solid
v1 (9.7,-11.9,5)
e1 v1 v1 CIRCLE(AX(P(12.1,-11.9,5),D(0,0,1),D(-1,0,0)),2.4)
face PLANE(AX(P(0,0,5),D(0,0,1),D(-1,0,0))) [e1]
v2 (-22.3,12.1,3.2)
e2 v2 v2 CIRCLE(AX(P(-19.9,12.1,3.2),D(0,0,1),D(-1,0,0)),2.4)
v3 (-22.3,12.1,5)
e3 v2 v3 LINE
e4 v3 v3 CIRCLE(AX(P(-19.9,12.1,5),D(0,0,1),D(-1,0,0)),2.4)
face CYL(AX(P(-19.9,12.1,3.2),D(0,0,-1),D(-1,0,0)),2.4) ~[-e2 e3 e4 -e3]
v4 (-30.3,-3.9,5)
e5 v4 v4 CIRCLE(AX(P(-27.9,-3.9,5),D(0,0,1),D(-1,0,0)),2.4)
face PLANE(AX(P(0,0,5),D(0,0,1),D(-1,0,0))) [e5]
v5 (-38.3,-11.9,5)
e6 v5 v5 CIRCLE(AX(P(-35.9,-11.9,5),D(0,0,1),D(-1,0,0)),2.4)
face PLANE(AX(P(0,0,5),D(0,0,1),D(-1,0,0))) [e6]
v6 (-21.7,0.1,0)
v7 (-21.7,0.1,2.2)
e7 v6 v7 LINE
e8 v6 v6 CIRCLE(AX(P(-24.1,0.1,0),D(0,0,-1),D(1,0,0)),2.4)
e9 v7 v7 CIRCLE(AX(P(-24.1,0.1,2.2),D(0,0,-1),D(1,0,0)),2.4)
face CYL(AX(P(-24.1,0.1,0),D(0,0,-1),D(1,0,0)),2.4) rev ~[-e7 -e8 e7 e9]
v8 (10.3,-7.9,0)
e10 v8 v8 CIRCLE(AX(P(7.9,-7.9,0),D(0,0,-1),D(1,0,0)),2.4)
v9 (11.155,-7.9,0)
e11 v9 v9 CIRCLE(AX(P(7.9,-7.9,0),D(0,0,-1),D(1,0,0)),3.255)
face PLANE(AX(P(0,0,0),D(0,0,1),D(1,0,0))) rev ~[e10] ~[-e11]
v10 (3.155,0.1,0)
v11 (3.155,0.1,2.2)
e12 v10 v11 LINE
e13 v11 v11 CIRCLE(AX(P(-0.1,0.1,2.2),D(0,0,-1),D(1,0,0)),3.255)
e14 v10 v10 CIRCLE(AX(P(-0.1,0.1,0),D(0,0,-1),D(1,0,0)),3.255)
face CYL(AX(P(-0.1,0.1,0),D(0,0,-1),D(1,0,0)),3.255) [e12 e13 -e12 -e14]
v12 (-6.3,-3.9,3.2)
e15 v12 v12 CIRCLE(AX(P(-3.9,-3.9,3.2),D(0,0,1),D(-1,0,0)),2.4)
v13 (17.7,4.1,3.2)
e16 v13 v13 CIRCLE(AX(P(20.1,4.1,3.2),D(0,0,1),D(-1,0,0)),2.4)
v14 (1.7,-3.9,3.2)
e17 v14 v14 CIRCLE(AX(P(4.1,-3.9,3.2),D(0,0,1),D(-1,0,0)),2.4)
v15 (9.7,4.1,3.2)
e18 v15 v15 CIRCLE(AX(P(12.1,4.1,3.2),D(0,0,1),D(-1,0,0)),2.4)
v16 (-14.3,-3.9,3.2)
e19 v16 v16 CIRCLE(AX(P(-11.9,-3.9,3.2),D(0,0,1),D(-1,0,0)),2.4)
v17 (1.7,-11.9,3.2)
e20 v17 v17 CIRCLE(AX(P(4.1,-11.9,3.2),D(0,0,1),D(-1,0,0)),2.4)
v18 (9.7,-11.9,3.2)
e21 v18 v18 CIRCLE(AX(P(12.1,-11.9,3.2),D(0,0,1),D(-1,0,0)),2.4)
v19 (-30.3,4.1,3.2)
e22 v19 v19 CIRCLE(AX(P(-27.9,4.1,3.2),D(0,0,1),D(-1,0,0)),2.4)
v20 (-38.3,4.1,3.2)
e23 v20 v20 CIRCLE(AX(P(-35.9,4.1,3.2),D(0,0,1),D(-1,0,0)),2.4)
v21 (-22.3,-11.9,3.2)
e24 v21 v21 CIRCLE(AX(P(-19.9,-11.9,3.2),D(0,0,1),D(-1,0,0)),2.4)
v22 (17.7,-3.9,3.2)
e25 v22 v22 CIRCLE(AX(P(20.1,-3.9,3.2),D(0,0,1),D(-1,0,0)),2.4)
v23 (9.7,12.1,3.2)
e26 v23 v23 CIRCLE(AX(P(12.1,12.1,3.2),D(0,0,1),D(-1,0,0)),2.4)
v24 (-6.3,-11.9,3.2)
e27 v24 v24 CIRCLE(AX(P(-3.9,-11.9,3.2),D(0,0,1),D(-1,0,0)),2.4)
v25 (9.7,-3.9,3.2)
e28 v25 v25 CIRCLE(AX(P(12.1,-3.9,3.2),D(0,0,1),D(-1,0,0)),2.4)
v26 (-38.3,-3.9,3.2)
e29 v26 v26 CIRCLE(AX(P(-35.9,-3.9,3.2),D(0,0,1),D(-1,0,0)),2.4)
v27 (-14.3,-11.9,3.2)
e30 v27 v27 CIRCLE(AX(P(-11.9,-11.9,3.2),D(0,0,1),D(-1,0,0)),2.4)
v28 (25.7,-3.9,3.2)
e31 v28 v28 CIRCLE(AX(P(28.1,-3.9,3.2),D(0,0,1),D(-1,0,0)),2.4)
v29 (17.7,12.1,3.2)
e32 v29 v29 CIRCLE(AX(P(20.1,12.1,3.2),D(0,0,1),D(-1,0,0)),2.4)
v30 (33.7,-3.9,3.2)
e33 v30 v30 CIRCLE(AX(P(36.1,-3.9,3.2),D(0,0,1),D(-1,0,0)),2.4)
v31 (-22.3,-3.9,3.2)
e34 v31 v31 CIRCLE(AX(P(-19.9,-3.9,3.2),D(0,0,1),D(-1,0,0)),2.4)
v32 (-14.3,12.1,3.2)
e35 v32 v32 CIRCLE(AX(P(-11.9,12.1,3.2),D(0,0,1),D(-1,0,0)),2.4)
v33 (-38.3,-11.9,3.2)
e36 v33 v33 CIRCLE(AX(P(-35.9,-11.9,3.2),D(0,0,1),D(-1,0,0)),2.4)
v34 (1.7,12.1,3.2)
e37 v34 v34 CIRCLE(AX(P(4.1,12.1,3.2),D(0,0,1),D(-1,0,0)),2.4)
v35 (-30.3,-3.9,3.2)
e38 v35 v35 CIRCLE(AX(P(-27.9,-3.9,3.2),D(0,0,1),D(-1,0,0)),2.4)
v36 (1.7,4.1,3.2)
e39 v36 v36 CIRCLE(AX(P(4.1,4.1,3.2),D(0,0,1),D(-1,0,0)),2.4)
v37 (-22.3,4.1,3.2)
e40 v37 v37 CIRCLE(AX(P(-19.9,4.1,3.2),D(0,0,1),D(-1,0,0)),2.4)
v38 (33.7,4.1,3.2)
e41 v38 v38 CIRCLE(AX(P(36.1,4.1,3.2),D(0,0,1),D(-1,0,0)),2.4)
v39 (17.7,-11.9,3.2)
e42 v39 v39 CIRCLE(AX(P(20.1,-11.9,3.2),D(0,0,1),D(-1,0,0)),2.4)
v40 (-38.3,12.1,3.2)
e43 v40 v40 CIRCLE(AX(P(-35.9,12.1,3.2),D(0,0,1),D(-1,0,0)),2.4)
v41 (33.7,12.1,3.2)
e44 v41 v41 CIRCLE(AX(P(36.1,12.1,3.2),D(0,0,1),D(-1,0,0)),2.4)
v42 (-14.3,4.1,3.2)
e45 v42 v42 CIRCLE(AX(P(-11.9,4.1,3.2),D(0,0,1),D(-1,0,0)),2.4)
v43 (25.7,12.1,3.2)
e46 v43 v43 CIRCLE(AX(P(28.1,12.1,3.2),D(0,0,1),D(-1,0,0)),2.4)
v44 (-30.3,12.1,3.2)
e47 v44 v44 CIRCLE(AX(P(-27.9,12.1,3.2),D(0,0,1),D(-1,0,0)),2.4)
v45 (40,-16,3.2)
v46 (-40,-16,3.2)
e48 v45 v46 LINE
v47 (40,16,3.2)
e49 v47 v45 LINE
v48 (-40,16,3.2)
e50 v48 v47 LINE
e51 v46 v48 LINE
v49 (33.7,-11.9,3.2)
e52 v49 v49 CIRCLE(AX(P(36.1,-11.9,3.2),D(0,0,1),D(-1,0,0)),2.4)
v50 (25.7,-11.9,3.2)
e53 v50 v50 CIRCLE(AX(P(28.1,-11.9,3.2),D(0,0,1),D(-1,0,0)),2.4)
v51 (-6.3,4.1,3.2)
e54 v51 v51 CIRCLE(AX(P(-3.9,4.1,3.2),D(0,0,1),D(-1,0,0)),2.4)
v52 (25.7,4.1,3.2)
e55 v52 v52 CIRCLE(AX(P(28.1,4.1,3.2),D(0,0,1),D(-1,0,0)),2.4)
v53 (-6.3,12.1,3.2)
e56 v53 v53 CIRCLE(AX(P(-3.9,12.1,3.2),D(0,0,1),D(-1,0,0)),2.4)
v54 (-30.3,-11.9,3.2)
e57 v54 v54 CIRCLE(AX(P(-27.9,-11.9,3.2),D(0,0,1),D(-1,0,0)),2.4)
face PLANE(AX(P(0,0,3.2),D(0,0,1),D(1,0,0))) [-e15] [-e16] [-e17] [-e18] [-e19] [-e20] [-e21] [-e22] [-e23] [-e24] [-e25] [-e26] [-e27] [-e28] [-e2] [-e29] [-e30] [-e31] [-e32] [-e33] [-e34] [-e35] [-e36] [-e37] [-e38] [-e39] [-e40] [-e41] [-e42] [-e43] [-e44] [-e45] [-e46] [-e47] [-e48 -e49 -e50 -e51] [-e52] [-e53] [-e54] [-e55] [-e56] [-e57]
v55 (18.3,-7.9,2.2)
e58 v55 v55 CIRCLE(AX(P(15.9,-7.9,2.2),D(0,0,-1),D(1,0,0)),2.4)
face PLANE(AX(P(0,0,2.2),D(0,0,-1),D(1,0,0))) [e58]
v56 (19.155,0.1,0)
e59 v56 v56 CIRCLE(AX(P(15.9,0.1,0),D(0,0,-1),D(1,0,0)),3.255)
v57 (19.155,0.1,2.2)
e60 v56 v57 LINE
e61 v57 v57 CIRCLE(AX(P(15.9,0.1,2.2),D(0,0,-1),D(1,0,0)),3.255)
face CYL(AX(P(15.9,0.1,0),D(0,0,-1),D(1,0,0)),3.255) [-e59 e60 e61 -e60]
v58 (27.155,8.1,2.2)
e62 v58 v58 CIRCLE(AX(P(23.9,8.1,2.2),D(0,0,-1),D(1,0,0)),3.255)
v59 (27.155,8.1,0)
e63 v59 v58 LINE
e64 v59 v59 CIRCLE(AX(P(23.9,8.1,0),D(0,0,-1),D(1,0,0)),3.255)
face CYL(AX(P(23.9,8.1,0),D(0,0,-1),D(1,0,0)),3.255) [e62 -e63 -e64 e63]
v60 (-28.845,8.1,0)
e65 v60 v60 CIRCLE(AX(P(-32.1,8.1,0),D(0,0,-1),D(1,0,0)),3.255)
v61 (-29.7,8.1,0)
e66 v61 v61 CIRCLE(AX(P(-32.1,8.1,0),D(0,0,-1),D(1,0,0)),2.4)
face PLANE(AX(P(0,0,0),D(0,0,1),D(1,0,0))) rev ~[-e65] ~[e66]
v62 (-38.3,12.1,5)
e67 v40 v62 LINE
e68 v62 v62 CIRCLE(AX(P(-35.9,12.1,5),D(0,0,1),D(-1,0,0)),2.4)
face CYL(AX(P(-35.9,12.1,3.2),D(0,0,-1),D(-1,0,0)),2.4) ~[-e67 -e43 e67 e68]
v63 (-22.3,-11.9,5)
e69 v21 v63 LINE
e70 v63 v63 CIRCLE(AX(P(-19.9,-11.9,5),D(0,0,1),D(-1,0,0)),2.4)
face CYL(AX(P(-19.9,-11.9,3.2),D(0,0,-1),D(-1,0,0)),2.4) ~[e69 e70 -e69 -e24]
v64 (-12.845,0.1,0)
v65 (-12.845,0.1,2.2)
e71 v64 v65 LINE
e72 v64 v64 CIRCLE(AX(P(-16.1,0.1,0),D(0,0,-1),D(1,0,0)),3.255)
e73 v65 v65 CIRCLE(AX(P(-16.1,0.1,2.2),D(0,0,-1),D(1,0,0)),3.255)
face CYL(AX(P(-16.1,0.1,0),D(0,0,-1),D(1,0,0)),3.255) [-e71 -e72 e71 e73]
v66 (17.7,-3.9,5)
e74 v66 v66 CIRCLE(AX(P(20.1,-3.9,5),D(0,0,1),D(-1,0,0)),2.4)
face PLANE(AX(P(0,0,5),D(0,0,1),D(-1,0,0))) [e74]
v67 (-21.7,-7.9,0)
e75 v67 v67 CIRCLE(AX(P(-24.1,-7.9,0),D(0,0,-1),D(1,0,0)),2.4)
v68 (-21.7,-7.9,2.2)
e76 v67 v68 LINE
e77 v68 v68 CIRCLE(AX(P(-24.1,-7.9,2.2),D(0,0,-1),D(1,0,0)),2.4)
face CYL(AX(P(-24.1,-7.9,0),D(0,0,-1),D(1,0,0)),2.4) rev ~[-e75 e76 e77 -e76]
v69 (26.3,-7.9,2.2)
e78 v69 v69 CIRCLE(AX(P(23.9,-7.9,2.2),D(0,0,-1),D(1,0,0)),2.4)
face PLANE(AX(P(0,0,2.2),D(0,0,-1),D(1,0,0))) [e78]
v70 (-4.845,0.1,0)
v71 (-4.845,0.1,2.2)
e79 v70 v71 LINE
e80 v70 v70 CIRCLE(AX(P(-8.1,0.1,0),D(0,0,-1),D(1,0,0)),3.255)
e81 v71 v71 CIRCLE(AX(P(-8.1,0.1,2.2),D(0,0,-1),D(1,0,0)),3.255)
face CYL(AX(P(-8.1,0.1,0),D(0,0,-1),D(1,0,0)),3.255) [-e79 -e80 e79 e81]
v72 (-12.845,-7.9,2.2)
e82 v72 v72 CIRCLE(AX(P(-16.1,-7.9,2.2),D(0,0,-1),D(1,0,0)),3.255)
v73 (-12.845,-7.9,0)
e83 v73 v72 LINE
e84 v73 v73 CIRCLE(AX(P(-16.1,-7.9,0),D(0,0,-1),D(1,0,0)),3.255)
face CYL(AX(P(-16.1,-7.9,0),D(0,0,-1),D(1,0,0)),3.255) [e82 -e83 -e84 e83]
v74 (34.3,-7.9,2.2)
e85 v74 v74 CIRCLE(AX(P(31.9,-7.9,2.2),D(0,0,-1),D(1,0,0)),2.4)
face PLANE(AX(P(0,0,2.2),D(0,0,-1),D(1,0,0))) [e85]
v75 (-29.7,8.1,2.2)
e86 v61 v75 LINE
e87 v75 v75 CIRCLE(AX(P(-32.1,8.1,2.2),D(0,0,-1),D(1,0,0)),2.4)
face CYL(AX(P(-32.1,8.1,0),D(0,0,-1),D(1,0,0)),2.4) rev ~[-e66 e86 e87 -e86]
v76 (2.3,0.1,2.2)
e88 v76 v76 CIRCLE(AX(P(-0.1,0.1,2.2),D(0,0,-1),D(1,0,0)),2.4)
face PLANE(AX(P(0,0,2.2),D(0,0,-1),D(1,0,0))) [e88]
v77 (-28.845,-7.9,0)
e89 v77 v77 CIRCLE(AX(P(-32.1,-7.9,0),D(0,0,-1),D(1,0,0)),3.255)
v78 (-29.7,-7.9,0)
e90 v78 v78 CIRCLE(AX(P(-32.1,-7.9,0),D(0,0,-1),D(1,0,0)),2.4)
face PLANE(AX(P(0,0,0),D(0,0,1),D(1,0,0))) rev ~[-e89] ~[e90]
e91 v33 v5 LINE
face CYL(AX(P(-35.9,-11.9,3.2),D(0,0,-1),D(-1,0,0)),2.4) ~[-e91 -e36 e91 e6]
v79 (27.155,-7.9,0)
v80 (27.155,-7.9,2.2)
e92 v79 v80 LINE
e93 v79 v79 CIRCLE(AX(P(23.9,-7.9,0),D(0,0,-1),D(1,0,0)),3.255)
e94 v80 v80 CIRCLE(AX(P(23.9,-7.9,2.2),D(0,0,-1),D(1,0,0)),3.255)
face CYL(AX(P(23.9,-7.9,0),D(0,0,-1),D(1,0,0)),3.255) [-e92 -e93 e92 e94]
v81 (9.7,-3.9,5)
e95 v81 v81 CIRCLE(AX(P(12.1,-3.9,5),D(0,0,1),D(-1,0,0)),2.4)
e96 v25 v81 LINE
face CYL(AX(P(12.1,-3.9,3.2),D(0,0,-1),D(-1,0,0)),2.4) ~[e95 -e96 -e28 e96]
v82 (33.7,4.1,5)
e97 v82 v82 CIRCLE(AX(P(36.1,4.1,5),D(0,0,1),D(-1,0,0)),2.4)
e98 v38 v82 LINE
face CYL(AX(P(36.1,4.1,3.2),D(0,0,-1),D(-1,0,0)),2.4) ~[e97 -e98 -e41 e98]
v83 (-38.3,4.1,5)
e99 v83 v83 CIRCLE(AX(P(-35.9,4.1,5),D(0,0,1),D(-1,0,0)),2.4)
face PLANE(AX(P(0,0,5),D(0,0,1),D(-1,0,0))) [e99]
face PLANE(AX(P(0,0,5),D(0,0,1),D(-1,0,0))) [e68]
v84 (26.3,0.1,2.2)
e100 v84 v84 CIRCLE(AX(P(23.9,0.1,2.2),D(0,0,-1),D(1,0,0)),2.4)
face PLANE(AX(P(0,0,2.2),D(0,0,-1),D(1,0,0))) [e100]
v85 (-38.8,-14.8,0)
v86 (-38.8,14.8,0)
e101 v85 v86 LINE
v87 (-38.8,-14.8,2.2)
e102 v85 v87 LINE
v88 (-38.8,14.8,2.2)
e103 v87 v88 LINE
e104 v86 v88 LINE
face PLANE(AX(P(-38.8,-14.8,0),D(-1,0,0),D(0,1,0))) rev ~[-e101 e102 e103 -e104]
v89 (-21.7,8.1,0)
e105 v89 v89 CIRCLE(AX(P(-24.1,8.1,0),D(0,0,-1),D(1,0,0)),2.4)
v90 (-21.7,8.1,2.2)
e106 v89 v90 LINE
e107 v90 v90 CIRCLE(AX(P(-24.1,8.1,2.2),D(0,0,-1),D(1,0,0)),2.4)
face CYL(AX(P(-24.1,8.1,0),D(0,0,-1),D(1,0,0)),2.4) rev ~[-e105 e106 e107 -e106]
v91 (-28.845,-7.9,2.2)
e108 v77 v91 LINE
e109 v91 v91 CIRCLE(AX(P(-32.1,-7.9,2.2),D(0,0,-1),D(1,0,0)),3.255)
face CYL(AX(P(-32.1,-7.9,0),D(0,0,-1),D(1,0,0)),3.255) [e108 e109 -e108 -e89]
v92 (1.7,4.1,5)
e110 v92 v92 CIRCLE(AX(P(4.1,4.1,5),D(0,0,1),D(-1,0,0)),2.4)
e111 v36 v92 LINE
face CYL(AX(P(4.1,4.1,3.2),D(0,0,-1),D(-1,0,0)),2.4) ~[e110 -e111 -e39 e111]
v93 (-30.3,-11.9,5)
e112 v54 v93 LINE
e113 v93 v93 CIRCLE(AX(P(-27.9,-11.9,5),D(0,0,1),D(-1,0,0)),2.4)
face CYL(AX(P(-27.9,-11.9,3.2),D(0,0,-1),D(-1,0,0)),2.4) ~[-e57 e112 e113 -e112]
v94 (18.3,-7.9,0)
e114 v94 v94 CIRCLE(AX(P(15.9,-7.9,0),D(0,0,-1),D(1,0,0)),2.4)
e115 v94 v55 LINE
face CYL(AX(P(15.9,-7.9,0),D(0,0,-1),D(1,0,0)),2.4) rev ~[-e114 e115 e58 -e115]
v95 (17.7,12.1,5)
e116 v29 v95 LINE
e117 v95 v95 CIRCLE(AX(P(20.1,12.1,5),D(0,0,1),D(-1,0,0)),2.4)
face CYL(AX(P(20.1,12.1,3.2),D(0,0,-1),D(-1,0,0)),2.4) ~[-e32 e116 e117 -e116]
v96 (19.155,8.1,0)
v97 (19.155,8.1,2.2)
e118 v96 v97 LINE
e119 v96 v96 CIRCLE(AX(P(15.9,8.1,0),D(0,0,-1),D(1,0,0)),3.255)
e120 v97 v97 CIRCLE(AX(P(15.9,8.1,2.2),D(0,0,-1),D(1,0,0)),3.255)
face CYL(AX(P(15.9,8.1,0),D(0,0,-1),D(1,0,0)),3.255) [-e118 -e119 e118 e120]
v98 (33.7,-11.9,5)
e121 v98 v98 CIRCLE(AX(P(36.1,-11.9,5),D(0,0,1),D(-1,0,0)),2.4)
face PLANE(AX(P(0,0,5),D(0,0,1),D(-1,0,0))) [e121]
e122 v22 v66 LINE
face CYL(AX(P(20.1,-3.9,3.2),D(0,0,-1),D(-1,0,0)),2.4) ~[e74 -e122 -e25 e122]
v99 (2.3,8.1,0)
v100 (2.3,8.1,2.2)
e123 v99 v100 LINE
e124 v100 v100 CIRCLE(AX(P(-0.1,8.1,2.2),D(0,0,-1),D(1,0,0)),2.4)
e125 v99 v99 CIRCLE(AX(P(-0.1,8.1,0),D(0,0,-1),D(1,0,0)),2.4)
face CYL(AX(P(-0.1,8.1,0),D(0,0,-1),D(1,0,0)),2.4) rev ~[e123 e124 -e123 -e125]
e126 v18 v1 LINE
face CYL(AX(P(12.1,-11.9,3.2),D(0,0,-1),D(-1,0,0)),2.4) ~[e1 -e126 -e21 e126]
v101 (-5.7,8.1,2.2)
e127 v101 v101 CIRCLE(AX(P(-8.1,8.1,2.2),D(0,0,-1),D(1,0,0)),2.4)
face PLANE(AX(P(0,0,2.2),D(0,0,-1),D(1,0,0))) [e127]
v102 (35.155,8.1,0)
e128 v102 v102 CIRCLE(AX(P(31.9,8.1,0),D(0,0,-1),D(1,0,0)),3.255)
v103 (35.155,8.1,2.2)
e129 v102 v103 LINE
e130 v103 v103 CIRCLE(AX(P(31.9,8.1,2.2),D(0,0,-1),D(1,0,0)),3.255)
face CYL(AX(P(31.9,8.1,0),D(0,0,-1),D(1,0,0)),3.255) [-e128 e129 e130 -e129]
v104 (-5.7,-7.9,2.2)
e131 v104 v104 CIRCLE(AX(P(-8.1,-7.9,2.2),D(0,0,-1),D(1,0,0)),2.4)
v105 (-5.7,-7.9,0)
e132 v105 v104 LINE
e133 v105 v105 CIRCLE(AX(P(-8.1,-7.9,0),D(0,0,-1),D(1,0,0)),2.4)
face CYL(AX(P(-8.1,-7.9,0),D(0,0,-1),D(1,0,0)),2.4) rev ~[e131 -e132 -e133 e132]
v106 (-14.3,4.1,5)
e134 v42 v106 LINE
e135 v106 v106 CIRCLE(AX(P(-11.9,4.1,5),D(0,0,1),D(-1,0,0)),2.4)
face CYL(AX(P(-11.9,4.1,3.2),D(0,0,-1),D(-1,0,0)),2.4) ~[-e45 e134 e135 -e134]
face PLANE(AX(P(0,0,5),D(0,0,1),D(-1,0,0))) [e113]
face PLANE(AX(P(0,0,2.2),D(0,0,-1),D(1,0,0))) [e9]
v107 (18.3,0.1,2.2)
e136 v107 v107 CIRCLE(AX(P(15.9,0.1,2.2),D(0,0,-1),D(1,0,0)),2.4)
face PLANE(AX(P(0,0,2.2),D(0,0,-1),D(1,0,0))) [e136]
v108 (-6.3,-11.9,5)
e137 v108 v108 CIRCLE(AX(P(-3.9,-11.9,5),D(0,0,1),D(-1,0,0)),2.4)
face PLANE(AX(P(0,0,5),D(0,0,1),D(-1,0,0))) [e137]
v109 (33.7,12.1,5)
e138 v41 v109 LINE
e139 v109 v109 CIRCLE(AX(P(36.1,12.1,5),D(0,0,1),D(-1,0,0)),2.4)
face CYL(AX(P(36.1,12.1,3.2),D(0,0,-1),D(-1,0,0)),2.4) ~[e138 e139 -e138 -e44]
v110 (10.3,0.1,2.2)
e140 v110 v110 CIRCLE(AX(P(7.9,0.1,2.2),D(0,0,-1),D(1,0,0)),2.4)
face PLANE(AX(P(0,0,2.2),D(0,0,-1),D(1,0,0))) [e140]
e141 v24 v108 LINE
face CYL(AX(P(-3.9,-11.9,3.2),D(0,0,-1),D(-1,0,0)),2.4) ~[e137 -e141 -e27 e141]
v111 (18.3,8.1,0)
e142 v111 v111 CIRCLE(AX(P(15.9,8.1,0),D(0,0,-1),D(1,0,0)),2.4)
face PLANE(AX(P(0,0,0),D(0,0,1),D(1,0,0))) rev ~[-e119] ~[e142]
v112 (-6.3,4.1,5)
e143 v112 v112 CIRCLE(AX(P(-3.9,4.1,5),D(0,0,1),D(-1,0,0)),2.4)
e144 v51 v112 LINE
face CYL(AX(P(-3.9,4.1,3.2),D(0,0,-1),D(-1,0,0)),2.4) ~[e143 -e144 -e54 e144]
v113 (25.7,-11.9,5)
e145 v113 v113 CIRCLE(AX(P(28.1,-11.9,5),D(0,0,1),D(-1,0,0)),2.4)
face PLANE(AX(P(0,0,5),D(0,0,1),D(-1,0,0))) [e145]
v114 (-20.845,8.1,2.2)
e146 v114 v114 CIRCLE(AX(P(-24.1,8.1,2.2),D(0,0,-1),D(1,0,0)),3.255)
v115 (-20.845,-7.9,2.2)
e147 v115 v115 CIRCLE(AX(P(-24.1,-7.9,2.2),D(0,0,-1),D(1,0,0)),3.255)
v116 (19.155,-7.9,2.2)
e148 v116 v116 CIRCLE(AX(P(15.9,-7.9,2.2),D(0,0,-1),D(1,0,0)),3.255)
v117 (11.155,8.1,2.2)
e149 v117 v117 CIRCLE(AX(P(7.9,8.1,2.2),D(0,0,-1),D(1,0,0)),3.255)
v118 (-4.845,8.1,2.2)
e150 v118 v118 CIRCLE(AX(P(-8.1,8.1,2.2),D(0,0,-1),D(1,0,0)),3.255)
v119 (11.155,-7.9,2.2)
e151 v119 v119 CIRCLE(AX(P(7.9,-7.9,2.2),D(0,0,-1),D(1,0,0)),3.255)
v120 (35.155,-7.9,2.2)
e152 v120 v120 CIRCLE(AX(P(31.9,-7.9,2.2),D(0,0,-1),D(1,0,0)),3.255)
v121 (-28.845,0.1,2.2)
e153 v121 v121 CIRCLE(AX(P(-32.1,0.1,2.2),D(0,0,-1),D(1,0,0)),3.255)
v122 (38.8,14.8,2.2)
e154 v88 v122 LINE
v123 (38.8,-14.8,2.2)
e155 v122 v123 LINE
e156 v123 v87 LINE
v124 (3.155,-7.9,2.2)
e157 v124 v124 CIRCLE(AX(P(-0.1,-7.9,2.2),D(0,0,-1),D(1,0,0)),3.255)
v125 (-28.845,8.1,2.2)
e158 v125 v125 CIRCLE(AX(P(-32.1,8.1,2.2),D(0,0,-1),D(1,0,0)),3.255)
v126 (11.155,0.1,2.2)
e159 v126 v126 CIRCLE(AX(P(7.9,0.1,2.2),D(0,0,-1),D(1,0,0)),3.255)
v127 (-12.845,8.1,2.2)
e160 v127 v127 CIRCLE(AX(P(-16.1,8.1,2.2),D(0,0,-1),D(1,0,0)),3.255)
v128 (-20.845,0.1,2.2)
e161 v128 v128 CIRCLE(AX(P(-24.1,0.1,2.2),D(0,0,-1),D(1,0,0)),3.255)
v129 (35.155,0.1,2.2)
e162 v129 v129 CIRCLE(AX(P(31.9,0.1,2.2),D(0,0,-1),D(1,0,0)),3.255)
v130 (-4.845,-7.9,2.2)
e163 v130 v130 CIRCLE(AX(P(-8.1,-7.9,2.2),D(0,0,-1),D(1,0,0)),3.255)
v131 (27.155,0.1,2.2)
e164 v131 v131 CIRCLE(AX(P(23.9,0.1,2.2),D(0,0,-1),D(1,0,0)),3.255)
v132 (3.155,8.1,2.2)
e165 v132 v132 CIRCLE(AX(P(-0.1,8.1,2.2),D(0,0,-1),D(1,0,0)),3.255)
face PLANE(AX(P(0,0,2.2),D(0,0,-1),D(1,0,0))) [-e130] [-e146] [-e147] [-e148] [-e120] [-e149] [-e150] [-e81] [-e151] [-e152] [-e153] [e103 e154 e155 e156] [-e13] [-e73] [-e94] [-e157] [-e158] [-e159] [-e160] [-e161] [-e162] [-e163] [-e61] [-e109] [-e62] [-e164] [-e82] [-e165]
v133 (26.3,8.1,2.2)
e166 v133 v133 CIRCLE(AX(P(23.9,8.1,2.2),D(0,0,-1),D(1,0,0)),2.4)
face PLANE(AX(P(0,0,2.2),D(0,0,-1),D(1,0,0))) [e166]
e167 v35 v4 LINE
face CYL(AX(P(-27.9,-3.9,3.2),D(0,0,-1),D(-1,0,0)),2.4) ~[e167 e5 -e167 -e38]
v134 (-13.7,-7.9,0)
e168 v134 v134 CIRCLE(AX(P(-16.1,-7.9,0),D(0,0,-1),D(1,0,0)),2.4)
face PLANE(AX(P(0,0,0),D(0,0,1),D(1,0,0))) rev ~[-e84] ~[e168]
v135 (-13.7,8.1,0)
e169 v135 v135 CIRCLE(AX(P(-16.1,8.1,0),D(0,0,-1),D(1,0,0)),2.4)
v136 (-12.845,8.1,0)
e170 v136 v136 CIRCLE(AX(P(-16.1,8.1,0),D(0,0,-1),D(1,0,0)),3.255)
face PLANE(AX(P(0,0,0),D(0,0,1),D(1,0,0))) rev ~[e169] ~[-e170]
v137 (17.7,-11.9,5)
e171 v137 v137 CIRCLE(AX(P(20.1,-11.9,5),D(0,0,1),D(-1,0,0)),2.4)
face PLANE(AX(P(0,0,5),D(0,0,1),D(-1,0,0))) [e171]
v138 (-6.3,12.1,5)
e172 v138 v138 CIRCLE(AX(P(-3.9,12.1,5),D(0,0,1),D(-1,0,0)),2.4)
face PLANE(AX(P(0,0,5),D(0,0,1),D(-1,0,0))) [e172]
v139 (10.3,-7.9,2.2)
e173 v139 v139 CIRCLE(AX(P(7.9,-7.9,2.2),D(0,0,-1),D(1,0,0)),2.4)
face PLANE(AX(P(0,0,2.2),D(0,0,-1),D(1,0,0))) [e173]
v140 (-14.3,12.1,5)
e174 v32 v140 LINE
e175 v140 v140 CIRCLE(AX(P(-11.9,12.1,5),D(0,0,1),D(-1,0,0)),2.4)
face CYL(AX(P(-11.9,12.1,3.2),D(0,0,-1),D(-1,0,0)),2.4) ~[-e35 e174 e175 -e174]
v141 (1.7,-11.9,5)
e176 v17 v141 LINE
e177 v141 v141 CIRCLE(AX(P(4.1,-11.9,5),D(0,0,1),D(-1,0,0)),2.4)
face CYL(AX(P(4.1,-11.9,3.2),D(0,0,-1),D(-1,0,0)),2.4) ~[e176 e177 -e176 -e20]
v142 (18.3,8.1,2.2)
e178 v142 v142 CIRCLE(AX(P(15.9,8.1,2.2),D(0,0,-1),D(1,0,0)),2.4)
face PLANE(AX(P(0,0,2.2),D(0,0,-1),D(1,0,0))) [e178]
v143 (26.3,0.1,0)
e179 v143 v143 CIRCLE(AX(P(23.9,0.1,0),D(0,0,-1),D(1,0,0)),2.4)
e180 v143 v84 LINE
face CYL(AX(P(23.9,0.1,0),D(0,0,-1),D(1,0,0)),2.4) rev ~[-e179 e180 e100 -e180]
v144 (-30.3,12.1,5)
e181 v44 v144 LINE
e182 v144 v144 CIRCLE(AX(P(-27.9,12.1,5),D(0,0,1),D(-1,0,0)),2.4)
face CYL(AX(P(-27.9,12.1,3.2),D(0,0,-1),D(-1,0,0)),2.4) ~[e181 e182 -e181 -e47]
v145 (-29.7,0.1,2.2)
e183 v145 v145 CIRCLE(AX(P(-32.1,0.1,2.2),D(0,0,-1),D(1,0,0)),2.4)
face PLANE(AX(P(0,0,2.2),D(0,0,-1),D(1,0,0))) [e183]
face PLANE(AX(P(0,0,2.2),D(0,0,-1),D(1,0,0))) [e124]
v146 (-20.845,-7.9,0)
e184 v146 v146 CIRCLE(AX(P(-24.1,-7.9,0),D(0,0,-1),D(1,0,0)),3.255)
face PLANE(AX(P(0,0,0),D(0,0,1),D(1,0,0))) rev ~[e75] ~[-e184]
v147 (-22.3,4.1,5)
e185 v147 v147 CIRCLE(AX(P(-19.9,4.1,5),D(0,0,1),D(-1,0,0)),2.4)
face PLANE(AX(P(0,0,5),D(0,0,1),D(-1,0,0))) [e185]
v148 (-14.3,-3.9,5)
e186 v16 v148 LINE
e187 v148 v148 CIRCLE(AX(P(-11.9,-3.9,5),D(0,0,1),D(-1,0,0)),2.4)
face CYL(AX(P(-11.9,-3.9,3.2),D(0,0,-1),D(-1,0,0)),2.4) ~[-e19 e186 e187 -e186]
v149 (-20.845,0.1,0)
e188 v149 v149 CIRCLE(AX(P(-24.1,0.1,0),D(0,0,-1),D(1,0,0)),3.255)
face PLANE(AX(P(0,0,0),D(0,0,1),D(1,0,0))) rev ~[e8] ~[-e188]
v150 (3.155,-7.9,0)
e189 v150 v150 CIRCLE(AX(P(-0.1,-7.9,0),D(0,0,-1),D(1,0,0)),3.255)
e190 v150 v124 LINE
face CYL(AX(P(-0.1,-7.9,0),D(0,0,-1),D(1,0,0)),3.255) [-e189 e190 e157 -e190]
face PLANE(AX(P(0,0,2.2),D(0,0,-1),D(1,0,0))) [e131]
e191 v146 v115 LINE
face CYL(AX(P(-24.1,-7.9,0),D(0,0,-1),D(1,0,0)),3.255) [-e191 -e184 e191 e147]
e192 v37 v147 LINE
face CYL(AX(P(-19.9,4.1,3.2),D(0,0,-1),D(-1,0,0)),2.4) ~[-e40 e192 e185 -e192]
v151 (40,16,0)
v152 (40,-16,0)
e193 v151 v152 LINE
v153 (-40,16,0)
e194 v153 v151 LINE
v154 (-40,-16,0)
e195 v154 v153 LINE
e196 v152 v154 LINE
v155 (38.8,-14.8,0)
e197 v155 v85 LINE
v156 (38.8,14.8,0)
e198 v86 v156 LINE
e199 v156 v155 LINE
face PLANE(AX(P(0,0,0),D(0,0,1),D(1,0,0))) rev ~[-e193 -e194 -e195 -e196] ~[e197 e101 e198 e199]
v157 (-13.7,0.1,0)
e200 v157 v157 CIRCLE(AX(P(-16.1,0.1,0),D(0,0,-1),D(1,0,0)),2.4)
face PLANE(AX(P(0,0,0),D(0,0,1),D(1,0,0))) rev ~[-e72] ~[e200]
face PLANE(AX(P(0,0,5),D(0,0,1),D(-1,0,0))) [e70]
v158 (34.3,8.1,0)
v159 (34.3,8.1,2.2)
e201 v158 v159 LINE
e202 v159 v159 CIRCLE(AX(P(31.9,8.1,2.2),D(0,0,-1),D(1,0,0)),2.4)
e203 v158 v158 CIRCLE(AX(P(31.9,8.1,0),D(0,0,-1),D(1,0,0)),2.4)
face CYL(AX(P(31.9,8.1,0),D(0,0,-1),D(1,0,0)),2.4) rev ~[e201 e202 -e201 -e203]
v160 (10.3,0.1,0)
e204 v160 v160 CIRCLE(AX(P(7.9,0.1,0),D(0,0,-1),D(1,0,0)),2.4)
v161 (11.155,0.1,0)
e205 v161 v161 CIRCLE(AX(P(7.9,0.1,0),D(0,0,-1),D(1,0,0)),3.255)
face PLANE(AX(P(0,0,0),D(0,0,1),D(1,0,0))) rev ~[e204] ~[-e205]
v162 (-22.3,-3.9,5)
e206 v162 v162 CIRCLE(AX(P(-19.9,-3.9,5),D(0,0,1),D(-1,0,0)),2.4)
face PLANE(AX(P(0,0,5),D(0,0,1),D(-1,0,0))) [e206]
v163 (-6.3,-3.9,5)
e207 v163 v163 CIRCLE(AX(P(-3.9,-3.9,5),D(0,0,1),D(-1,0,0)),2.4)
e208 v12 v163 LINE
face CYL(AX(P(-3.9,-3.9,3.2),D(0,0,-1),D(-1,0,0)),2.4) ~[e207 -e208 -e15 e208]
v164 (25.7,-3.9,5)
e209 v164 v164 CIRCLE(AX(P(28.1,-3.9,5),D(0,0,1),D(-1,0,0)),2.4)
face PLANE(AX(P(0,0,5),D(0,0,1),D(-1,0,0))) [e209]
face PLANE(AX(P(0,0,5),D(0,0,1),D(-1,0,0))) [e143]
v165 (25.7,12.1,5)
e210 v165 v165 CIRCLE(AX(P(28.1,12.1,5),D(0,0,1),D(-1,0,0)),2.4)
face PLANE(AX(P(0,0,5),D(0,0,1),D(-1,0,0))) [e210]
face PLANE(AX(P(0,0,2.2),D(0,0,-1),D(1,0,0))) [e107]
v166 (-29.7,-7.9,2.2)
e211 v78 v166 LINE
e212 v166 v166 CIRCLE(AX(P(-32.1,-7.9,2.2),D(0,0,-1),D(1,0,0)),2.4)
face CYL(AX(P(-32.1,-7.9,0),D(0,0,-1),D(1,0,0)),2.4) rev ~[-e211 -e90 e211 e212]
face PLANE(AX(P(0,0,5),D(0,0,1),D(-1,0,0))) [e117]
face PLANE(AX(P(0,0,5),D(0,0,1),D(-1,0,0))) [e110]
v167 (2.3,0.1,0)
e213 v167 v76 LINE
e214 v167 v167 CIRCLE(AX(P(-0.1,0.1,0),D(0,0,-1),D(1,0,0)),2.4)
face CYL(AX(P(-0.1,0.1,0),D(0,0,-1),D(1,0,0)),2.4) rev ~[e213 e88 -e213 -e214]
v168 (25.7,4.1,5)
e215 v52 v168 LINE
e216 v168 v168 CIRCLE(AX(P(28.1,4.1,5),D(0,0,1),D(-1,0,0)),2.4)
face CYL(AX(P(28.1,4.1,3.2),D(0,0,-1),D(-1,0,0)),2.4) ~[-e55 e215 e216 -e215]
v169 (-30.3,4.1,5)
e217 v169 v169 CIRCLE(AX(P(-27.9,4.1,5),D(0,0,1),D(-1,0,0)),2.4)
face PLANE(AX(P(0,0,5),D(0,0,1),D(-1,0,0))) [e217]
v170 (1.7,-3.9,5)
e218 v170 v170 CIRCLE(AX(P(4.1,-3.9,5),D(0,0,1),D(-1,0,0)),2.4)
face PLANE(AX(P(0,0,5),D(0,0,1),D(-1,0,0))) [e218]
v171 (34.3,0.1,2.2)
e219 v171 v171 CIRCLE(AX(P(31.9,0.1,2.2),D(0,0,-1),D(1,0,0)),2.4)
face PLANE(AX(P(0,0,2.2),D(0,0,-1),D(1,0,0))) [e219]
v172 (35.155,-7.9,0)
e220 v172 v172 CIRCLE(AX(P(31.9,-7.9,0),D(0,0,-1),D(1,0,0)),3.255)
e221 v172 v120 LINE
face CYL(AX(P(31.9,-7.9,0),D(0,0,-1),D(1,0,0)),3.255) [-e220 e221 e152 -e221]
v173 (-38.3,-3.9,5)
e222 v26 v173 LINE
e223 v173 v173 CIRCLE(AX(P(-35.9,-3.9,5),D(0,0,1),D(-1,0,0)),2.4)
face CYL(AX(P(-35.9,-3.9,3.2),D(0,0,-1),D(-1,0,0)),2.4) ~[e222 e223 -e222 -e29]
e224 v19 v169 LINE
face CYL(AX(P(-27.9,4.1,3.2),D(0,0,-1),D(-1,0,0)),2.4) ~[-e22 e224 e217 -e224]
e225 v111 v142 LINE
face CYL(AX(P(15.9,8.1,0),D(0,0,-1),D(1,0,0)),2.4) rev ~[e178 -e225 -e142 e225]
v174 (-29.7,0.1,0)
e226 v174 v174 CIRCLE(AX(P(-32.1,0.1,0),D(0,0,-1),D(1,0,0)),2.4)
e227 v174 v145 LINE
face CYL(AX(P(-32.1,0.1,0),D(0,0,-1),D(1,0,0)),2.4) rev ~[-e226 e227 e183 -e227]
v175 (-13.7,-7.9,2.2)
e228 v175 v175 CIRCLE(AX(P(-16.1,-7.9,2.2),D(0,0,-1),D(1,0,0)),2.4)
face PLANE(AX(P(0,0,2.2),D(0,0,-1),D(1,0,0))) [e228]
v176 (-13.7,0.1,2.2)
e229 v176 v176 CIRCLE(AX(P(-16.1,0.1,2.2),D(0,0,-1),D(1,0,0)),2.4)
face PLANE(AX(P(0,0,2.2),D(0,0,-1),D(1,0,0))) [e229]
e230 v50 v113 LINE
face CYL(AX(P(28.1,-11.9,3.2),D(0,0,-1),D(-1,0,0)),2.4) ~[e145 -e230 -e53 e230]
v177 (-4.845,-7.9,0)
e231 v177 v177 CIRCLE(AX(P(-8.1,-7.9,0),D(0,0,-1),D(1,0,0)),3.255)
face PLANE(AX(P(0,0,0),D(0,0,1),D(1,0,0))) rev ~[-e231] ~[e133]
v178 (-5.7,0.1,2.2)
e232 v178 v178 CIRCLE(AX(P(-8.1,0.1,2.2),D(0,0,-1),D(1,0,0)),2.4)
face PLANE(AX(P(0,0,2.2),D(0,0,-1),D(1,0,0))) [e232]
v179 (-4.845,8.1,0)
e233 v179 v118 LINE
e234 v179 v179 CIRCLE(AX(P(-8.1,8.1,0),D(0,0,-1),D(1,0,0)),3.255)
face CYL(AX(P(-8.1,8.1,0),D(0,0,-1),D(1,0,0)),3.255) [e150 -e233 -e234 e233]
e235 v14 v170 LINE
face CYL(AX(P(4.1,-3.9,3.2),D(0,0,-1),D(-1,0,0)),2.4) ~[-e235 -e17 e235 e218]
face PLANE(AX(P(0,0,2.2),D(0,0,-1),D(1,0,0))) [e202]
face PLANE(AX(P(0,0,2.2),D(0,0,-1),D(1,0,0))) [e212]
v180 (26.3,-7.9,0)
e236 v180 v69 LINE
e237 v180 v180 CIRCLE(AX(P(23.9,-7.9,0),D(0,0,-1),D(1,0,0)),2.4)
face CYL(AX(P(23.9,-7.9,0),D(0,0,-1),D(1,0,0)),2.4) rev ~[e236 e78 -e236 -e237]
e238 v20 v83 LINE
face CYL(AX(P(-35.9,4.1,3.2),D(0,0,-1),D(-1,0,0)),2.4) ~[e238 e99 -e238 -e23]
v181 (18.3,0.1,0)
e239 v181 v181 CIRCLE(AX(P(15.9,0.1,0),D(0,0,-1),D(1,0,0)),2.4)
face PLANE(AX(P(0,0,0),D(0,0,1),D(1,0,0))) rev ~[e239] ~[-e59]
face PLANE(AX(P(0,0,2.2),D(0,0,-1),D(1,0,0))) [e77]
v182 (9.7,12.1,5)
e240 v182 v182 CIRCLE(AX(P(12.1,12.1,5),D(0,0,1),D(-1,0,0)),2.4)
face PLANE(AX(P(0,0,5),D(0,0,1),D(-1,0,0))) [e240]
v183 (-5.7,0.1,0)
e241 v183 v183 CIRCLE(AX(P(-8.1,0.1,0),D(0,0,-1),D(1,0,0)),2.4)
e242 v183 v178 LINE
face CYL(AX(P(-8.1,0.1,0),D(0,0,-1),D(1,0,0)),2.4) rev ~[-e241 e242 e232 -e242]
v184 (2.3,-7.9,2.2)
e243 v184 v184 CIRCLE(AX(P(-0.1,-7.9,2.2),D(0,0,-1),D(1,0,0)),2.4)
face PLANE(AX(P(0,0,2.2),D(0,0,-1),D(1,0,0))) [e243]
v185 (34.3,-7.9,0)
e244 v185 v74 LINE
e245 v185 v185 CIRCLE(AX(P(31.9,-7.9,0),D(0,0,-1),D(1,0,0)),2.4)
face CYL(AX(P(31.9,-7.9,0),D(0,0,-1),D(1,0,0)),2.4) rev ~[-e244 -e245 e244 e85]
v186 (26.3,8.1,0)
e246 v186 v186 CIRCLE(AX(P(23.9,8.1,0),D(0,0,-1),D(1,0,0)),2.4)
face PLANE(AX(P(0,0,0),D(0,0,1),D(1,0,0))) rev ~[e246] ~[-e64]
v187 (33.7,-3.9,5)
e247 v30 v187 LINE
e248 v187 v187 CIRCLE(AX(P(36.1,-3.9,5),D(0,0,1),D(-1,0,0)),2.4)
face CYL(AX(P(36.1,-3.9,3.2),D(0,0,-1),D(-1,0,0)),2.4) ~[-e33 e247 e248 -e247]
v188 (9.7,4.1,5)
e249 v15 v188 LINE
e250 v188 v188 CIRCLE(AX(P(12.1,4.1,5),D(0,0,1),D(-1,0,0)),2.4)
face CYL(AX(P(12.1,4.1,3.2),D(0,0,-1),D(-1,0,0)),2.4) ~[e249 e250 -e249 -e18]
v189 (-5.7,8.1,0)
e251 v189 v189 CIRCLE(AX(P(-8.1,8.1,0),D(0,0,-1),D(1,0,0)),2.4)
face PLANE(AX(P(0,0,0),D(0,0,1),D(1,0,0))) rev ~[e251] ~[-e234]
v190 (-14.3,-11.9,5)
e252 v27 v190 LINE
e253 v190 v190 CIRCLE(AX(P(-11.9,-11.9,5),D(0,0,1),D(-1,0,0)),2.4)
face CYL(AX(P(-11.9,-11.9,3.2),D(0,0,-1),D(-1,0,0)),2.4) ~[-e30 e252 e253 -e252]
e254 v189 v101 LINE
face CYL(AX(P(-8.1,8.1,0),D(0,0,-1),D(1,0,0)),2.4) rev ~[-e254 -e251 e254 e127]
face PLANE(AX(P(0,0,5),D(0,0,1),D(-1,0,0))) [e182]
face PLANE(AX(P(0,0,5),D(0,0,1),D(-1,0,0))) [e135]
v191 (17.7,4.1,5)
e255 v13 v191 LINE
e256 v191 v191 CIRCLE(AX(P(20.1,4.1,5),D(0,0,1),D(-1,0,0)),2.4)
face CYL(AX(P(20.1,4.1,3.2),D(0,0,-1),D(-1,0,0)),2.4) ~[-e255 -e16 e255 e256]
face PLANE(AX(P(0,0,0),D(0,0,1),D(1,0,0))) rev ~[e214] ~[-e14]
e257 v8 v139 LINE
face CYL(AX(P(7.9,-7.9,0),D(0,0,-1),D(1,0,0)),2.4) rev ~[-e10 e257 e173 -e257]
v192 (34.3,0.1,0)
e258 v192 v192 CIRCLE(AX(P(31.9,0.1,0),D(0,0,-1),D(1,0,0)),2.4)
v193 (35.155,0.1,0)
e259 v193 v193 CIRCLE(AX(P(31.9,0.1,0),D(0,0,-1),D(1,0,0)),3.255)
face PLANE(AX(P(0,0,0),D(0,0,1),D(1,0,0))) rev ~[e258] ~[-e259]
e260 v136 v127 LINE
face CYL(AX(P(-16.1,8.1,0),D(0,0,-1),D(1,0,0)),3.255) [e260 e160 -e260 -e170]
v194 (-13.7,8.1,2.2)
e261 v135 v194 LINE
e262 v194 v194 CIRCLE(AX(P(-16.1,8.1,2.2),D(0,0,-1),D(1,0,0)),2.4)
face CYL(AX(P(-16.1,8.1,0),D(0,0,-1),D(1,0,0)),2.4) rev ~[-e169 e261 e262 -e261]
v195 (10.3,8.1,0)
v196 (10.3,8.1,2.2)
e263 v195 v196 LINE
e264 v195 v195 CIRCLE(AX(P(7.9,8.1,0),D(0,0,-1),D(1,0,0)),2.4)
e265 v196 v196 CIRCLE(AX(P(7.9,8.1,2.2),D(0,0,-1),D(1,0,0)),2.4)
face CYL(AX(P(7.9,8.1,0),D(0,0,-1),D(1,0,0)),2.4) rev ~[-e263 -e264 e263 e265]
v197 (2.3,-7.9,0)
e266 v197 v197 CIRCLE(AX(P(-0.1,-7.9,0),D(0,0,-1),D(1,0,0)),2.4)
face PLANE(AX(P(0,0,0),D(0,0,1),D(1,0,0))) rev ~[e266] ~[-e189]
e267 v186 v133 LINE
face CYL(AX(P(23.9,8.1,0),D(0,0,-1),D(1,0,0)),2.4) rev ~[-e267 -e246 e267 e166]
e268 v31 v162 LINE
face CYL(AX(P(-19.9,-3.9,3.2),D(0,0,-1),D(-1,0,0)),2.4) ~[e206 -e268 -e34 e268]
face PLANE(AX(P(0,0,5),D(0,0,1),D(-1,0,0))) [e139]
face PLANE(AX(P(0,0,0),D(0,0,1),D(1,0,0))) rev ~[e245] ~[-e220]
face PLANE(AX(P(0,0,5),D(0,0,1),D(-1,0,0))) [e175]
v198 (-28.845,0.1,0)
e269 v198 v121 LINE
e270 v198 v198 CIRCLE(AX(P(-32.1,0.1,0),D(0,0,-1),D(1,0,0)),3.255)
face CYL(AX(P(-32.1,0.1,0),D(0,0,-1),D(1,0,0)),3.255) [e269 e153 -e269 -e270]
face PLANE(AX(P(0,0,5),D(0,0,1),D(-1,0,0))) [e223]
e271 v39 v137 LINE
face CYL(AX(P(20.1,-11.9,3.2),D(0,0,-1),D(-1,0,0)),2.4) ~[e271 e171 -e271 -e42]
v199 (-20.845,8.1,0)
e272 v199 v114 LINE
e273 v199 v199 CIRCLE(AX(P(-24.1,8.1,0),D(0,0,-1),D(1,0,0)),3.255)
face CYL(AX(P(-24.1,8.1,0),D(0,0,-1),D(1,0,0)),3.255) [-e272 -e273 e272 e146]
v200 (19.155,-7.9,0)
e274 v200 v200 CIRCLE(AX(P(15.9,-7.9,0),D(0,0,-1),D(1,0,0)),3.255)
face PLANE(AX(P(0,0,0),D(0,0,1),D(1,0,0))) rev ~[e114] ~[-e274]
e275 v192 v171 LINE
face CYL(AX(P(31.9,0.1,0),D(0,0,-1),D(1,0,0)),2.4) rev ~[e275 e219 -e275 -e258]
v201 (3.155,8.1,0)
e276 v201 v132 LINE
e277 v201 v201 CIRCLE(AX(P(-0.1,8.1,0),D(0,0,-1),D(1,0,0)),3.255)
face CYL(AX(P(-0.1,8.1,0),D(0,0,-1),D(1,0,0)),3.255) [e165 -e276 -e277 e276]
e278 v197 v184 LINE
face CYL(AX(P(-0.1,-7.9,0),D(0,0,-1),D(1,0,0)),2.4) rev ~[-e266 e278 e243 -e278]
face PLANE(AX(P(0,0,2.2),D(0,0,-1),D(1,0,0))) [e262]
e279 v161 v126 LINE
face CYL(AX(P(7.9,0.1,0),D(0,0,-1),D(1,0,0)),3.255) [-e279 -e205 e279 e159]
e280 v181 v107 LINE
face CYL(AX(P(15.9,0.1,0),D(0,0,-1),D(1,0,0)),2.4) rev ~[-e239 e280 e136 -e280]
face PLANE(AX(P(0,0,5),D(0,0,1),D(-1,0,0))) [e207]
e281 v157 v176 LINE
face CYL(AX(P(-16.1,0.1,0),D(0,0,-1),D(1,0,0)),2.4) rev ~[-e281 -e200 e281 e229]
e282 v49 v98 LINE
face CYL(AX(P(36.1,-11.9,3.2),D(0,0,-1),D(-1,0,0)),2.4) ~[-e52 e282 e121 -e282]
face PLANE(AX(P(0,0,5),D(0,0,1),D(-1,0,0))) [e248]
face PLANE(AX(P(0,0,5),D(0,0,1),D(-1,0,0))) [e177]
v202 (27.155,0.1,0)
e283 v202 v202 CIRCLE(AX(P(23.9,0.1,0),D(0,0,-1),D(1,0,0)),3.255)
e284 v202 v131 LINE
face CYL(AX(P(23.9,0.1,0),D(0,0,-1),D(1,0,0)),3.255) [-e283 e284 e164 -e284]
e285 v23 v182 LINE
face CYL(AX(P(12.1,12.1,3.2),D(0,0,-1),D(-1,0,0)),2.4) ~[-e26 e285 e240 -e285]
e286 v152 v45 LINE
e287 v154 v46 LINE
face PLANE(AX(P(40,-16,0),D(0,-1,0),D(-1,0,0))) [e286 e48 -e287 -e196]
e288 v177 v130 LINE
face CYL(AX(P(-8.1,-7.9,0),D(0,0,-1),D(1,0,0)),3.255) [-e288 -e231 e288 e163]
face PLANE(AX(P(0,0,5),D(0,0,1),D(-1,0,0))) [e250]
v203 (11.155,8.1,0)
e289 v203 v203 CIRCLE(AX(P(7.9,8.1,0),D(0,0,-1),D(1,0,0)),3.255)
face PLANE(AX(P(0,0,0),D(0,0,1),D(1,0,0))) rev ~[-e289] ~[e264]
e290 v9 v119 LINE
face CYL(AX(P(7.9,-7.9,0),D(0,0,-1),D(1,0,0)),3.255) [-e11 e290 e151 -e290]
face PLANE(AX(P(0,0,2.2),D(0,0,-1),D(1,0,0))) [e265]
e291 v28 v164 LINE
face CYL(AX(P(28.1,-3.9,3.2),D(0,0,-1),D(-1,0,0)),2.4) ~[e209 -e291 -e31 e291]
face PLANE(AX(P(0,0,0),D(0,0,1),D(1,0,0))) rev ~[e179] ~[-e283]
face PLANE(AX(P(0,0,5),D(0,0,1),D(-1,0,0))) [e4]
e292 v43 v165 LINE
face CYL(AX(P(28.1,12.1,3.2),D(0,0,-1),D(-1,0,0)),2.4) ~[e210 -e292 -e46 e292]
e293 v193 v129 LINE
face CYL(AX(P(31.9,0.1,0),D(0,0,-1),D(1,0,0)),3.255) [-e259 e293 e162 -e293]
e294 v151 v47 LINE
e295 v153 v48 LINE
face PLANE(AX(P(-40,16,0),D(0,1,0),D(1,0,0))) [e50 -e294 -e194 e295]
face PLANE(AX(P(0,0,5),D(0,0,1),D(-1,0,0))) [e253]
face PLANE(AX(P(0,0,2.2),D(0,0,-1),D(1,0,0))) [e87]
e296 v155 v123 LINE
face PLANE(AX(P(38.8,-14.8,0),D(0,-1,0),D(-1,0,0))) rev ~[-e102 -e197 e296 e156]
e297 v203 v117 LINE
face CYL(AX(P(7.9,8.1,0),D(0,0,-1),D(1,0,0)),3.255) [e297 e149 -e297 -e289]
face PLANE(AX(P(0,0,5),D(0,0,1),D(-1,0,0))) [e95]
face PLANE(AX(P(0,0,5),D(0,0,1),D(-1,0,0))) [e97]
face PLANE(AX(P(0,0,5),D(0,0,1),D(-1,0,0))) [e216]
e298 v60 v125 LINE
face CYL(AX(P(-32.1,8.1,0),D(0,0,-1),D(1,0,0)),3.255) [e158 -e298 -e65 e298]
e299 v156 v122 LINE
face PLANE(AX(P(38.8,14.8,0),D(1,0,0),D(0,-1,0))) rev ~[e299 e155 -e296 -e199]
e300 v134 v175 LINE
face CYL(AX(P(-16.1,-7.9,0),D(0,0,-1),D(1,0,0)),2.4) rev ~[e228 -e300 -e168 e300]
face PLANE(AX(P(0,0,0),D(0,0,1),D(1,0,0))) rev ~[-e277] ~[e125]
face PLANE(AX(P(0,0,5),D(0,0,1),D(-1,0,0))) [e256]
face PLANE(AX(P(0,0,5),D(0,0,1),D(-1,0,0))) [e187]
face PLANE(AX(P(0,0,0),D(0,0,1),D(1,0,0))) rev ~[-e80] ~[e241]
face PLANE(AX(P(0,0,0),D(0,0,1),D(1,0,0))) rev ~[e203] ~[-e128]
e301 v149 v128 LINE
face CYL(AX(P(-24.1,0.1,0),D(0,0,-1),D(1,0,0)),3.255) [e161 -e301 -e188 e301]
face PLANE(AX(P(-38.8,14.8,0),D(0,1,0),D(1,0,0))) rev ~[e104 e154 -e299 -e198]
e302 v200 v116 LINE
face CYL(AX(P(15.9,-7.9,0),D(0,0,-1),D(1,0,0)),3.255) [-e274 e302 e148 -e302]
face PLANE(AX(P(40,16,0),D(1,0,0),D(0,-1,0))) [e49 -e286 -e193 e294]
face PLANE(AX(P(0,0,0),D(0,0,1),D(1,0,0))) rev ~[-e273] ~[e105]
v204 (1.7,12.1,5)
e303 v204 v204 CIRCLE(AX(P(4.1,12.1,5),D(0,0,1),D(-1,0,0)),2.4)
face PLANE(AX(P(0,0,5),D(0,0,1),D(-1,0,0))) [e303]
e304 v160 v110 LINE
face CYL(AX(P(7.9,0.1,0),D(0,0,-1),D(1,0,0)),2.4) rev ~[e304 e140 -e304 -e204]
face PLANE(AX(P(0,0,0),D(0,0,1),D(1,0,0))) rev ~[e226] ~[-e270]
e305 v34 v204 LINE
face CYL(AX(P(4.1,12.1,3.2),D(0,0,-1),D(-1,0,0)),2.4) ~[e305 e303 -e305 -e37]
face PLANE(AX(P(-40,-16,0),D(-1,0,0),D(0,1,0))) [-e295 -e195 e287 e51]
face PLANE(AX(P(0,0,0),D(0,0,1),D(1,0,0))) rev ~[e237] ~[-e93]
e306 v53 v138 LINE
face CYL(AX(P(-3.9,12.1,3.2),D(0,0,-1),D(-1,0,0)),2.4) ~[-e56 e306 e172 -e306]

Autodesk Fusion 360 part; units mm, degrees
sketch "Skizze1" plane through (0, 0, 0) normal (0, 0, 1) x (1, 0, 0)
  line L0 (40, -16) -> (-40, -16)
  line L1 (-40, -16) -> (-40, 16)
  line L2 (-40, 16) -> (40, 16)
  line L3 (40, 16) -> (40, -16)
  line L4 (40, -16) -> (-40, 16) construction
  line L5 (-40, -16) -> (40, 16) construction
  dimension "d1" = 80
  dimension "d2" = 32
extrude "Extrusion1" add sketch "Skizze1" along normal blind 3.2
sketch "Skizze2" plane through (0, 0, 3.2) normal (0, 0, 1) x (-1, 0, 0)
  line L0 (-40, -16) -> (40, -16)
  line L1 (40, -16) -> (40, 16)
  line L2 (40, 16) -> (-40, 16)
  line L3 (-40, 16) -> (-40, -16)
  circle A0 centre (-36.1, -12.1) radius 2.4
  circle A1 centre (-28.1, -12.1) radius 2.4
  circle A2 centre (-20.1, -12.1) radius 2.4
  circle A3 centre (-12.1, -12.1) radius 2.4
  circle A4 centre (-4.1, -12.1) radius 2.4
  circle A5 centre (3.9, -12.1) radius 2.4
  circle A6 centre (11.9, -12.1) radius 2.4
  circle A7 centre (19.9, -12.1) radius 2.4
  circle A8 centre (27.9, -12.1) radius 2.4
  circle A9 centre (35.9, -12.1) radius 2.4
  circle A10 centre (-36.1, -4.1) radius 2.4
  circle A11 centre (-28.1, -4.1) radius 2.4
  circle A12 centre (-20.1, -4.1) radius 2.4
  circle A13 centre (-12.1, -4.1) radius 2.4
  circle A14 centre (-4.1, -4.1) radius 2.4
  circle A15 centre (3.9, -4.1) radius 2.4
  circle A16 centre (11.9, -4.1) radius 2.4
  circle A17 centre (19.9, -4.1) radius 2.4
  circle A18 centre (27.9, -4.1) radius 2.4
  circle A19 centre (35.9, -4.1) radius 2.4
  circle A20 centre (-36.1, 3.9) radius 2.4
  circle A21 centre (-28.1, 3.9) radius 2.4
  circle A22 centre (-20.1, 3.9) radius 2.4
  circle A23 centre (-12.1, 3.9) radius 2.4
  circle A24 centre (-4.1, 3.9) radius 2.4
  circle A25 centre (3.9, 3.9) radius 2.4
  circle A26 centre (11.9, 3.9) radius 2.4
  circle A27 centre (19.9, 3.9) radius 2.4
  circle A28 centre (27.9, 3.9) radius 2.4
  circle A29 centre (35.9, 3.9) radius 2.4
  circle A30 centre (-36.1, 11.9) radius 2.4
  circle A31 centre (-28.1, 11.9) radius 2.4
  circle A32 centre (-20.1, 11.9) radius 2.4
  circle A33 centre (-12.1, 11.9) radius 2.4
  circle A34 centre (-4.1, 11.9) radius 2.4
  circle A35 centre (3.9, 11.9) radius 2.4
  circle A36 centre (11.9, 11.9) radius 2.4
  circle A37 centre (19.9, 11.9) radius 2.4
  circle A38 centre (27.9, 11.9) radius 2.4
  circle A39 centre (35.9, 11.9) radius 2.4
  dimension "d5" = 4.8
  dimension "d6" = 3.9
  dimension "d7" = 3.9
  dimension "d10" = 8
  dimension "d11" = 8
extrude "Extrusion2" add sketch "Skizze2" along normal blind 1.8 contours A0 | A1 | A2 | A3 | A4 | A5 | A6 | A7 | A8 | A9 | A10 | A11 | A12 | A13 | A14 | A15 | A16 | A17 | A18 | A19 | A20 | A21 | A22 | A23 | A24 | A25 | A26 | A27 | A28 | A29 | A30 | A31 | A32 | A33 | A34 | A35 | A36 | A37 | A38 | A39
sketch "Skizze3" plane through (0, 0, 0) normal (0, 0, -1) x (1, 0, 0)
  line L0 (-40, -16) -> (40, -16)
  line L1 (40, -16) -> (40, 16)
  line L2 (40, 16) -> (-40, 16)
  line L3 (-40, 16) -> (-40, -16)
  circle A0 centre (-32.1, -8.1) radius 3.255
  circle A1 centre (-32.1, -8.1) radius 2.4
  circle A2 centre (-24.1, -8.1) radius 2.4
  circle A3 centre (-24.1, -8.1) radius 3.255
  circle A4 centre (-16.1, -8.1) radius 2.4
  circle A5 centre (-16.1, -8.1) radius 3.255
  circle A6 centre (-8.1, -8.1) radius 2.4
  circle A7 centre (-8.1, -8.1) radius 3.255
  circle A8 centre (-0.1, -8.1) radius 2.4
  circle A9 centre (-0.1, -8.1) radius 3.255
  circle A10 centre (7.9, -8.1) radius 2.4
  circle A11 centre (7.9, -8.1) radius 3.255
  circle A12 centre (15.9, -8.1) radius 2.4
  circle A13 centre (15.9, -8.1) radius 3.255
  circle A14 centre (23.9, -8.1) radius 2.4
  circle A15 centre (23.9, -8.1) radius 3.255
  circle A16 centre (31.9, -8.1) radius 2.4
  circle A17 centre (31.9, -8.1) radius 3.255
  circle A18 centre (-32.1, -0.1) radius 2.4
  circle A19 centre (-32.1, -0.1) radius 3.255
  circle A20 centre (-24.1, -0.1) radius 2.4
  circle A21 centre (-24.1, -0.1) radius 3.255
  circle A22 centre (-16.1, -0.1) radius 2.4
  circle A23 centre (-16.1, -0.1) radius 3.255
  circle A24 centre (-8.1, -0.1) radius 2.4
  circle A25 centre (-8.1, -0.1) radius 3.255
  circle A26 centre (-0.1, -0.1) radius 2.4
  circle A27 centre (-0.1, -0.1) radius 3.255
  circle A28 centre (7.9, -0.1) radius 2.4
  circle A29 centre (7.9, -0.1) radius 3.255
  circle A30 centre (15.9, -0.1) radius 2.4
  circle A31 centre (15.9, -0.1) radius 3.255
  circle A32 centre (23.9, -0.1) radius 2.4
  circle A33 centre (23.9, -0.1) radius 3.255
  circle A34 centre (31.9, -0.1) radius 2.4
  circle A35 centre (31.9, -0.1) radius 3.255
  circle A36 centre (-32.1, 7.9) radius 2.4
  circle A37 centre (-32.1, 7.9) radius 3.255
  circle A38 centre (-24.1, 7.9) radius 2.4
  circle A39 centre (-24.1, 7.9) radius 3.255
  circle A40 centre (-16.1, 7.9) radius 2.4
  circle A41 centre (-16.1, 7.9) radius 3.255
  circle A42 centre (-8.1, 7.9) radius 2.4
  circle A43 centre (-8.1, 7.9) radius 3.255
  circle A44 centre (-0.1, 7.9) radius 2.4
  circle A45 centre (-0.1, 7.9) radius 3.255
  circle A46 centre (7.9, 7.9) radius 2.4
  circle A47 centre (7.9, 7.9) radius 3.255
  circle A48 centre (15.9, 7.9) radius 2.4
  circle A49 centre (15.9, 7.9) radius 3.255
  circle A50 centre (23.9, 7.9) radius 2.4
  circle A51 centre (23.9, 7.9) radius 3.255
  circle A52 centre (31.9, 7.9) radius 2.4
  circle A53 centre (31.9, 7.9) radius 3.255
  line L4 (-38.8, -14.8) -> (38.8, -14.8)
  line L5 (38.8, -14.8) -> (38.8, 14.8)
  line L6 (38.8, 14.8) -> (-38.8, 14.8)
  line L7 (-38.8, 14.8) -> (-38.8, -14.8)
  dimension "d14" = 6.51
  dimension "d15" = -0.855
  dimension "d19" = 7.9
  dimension "d20" = 7.9
  dimension "d23" = 8
  dimension "d24" = 8
  dimension "d25" = -1.2
extrude "Extrusion3" cut sketch "Skizze3" against normal blind 2.2 contours L4 L5 L6 L7
extrude "Extrusion4" cut sketch "Skizze3" against normal blind 2.2 contours A1 | A2 | A4 | A6 | A8 | A10 | A12 | A14 | A16 | A18 | A20 | A22 | A24 | A26 | A28 | A30 | A32 | A34 | A36 | A38 | A40 | A42 | A44 | A46 | A48 | A50 | A52
